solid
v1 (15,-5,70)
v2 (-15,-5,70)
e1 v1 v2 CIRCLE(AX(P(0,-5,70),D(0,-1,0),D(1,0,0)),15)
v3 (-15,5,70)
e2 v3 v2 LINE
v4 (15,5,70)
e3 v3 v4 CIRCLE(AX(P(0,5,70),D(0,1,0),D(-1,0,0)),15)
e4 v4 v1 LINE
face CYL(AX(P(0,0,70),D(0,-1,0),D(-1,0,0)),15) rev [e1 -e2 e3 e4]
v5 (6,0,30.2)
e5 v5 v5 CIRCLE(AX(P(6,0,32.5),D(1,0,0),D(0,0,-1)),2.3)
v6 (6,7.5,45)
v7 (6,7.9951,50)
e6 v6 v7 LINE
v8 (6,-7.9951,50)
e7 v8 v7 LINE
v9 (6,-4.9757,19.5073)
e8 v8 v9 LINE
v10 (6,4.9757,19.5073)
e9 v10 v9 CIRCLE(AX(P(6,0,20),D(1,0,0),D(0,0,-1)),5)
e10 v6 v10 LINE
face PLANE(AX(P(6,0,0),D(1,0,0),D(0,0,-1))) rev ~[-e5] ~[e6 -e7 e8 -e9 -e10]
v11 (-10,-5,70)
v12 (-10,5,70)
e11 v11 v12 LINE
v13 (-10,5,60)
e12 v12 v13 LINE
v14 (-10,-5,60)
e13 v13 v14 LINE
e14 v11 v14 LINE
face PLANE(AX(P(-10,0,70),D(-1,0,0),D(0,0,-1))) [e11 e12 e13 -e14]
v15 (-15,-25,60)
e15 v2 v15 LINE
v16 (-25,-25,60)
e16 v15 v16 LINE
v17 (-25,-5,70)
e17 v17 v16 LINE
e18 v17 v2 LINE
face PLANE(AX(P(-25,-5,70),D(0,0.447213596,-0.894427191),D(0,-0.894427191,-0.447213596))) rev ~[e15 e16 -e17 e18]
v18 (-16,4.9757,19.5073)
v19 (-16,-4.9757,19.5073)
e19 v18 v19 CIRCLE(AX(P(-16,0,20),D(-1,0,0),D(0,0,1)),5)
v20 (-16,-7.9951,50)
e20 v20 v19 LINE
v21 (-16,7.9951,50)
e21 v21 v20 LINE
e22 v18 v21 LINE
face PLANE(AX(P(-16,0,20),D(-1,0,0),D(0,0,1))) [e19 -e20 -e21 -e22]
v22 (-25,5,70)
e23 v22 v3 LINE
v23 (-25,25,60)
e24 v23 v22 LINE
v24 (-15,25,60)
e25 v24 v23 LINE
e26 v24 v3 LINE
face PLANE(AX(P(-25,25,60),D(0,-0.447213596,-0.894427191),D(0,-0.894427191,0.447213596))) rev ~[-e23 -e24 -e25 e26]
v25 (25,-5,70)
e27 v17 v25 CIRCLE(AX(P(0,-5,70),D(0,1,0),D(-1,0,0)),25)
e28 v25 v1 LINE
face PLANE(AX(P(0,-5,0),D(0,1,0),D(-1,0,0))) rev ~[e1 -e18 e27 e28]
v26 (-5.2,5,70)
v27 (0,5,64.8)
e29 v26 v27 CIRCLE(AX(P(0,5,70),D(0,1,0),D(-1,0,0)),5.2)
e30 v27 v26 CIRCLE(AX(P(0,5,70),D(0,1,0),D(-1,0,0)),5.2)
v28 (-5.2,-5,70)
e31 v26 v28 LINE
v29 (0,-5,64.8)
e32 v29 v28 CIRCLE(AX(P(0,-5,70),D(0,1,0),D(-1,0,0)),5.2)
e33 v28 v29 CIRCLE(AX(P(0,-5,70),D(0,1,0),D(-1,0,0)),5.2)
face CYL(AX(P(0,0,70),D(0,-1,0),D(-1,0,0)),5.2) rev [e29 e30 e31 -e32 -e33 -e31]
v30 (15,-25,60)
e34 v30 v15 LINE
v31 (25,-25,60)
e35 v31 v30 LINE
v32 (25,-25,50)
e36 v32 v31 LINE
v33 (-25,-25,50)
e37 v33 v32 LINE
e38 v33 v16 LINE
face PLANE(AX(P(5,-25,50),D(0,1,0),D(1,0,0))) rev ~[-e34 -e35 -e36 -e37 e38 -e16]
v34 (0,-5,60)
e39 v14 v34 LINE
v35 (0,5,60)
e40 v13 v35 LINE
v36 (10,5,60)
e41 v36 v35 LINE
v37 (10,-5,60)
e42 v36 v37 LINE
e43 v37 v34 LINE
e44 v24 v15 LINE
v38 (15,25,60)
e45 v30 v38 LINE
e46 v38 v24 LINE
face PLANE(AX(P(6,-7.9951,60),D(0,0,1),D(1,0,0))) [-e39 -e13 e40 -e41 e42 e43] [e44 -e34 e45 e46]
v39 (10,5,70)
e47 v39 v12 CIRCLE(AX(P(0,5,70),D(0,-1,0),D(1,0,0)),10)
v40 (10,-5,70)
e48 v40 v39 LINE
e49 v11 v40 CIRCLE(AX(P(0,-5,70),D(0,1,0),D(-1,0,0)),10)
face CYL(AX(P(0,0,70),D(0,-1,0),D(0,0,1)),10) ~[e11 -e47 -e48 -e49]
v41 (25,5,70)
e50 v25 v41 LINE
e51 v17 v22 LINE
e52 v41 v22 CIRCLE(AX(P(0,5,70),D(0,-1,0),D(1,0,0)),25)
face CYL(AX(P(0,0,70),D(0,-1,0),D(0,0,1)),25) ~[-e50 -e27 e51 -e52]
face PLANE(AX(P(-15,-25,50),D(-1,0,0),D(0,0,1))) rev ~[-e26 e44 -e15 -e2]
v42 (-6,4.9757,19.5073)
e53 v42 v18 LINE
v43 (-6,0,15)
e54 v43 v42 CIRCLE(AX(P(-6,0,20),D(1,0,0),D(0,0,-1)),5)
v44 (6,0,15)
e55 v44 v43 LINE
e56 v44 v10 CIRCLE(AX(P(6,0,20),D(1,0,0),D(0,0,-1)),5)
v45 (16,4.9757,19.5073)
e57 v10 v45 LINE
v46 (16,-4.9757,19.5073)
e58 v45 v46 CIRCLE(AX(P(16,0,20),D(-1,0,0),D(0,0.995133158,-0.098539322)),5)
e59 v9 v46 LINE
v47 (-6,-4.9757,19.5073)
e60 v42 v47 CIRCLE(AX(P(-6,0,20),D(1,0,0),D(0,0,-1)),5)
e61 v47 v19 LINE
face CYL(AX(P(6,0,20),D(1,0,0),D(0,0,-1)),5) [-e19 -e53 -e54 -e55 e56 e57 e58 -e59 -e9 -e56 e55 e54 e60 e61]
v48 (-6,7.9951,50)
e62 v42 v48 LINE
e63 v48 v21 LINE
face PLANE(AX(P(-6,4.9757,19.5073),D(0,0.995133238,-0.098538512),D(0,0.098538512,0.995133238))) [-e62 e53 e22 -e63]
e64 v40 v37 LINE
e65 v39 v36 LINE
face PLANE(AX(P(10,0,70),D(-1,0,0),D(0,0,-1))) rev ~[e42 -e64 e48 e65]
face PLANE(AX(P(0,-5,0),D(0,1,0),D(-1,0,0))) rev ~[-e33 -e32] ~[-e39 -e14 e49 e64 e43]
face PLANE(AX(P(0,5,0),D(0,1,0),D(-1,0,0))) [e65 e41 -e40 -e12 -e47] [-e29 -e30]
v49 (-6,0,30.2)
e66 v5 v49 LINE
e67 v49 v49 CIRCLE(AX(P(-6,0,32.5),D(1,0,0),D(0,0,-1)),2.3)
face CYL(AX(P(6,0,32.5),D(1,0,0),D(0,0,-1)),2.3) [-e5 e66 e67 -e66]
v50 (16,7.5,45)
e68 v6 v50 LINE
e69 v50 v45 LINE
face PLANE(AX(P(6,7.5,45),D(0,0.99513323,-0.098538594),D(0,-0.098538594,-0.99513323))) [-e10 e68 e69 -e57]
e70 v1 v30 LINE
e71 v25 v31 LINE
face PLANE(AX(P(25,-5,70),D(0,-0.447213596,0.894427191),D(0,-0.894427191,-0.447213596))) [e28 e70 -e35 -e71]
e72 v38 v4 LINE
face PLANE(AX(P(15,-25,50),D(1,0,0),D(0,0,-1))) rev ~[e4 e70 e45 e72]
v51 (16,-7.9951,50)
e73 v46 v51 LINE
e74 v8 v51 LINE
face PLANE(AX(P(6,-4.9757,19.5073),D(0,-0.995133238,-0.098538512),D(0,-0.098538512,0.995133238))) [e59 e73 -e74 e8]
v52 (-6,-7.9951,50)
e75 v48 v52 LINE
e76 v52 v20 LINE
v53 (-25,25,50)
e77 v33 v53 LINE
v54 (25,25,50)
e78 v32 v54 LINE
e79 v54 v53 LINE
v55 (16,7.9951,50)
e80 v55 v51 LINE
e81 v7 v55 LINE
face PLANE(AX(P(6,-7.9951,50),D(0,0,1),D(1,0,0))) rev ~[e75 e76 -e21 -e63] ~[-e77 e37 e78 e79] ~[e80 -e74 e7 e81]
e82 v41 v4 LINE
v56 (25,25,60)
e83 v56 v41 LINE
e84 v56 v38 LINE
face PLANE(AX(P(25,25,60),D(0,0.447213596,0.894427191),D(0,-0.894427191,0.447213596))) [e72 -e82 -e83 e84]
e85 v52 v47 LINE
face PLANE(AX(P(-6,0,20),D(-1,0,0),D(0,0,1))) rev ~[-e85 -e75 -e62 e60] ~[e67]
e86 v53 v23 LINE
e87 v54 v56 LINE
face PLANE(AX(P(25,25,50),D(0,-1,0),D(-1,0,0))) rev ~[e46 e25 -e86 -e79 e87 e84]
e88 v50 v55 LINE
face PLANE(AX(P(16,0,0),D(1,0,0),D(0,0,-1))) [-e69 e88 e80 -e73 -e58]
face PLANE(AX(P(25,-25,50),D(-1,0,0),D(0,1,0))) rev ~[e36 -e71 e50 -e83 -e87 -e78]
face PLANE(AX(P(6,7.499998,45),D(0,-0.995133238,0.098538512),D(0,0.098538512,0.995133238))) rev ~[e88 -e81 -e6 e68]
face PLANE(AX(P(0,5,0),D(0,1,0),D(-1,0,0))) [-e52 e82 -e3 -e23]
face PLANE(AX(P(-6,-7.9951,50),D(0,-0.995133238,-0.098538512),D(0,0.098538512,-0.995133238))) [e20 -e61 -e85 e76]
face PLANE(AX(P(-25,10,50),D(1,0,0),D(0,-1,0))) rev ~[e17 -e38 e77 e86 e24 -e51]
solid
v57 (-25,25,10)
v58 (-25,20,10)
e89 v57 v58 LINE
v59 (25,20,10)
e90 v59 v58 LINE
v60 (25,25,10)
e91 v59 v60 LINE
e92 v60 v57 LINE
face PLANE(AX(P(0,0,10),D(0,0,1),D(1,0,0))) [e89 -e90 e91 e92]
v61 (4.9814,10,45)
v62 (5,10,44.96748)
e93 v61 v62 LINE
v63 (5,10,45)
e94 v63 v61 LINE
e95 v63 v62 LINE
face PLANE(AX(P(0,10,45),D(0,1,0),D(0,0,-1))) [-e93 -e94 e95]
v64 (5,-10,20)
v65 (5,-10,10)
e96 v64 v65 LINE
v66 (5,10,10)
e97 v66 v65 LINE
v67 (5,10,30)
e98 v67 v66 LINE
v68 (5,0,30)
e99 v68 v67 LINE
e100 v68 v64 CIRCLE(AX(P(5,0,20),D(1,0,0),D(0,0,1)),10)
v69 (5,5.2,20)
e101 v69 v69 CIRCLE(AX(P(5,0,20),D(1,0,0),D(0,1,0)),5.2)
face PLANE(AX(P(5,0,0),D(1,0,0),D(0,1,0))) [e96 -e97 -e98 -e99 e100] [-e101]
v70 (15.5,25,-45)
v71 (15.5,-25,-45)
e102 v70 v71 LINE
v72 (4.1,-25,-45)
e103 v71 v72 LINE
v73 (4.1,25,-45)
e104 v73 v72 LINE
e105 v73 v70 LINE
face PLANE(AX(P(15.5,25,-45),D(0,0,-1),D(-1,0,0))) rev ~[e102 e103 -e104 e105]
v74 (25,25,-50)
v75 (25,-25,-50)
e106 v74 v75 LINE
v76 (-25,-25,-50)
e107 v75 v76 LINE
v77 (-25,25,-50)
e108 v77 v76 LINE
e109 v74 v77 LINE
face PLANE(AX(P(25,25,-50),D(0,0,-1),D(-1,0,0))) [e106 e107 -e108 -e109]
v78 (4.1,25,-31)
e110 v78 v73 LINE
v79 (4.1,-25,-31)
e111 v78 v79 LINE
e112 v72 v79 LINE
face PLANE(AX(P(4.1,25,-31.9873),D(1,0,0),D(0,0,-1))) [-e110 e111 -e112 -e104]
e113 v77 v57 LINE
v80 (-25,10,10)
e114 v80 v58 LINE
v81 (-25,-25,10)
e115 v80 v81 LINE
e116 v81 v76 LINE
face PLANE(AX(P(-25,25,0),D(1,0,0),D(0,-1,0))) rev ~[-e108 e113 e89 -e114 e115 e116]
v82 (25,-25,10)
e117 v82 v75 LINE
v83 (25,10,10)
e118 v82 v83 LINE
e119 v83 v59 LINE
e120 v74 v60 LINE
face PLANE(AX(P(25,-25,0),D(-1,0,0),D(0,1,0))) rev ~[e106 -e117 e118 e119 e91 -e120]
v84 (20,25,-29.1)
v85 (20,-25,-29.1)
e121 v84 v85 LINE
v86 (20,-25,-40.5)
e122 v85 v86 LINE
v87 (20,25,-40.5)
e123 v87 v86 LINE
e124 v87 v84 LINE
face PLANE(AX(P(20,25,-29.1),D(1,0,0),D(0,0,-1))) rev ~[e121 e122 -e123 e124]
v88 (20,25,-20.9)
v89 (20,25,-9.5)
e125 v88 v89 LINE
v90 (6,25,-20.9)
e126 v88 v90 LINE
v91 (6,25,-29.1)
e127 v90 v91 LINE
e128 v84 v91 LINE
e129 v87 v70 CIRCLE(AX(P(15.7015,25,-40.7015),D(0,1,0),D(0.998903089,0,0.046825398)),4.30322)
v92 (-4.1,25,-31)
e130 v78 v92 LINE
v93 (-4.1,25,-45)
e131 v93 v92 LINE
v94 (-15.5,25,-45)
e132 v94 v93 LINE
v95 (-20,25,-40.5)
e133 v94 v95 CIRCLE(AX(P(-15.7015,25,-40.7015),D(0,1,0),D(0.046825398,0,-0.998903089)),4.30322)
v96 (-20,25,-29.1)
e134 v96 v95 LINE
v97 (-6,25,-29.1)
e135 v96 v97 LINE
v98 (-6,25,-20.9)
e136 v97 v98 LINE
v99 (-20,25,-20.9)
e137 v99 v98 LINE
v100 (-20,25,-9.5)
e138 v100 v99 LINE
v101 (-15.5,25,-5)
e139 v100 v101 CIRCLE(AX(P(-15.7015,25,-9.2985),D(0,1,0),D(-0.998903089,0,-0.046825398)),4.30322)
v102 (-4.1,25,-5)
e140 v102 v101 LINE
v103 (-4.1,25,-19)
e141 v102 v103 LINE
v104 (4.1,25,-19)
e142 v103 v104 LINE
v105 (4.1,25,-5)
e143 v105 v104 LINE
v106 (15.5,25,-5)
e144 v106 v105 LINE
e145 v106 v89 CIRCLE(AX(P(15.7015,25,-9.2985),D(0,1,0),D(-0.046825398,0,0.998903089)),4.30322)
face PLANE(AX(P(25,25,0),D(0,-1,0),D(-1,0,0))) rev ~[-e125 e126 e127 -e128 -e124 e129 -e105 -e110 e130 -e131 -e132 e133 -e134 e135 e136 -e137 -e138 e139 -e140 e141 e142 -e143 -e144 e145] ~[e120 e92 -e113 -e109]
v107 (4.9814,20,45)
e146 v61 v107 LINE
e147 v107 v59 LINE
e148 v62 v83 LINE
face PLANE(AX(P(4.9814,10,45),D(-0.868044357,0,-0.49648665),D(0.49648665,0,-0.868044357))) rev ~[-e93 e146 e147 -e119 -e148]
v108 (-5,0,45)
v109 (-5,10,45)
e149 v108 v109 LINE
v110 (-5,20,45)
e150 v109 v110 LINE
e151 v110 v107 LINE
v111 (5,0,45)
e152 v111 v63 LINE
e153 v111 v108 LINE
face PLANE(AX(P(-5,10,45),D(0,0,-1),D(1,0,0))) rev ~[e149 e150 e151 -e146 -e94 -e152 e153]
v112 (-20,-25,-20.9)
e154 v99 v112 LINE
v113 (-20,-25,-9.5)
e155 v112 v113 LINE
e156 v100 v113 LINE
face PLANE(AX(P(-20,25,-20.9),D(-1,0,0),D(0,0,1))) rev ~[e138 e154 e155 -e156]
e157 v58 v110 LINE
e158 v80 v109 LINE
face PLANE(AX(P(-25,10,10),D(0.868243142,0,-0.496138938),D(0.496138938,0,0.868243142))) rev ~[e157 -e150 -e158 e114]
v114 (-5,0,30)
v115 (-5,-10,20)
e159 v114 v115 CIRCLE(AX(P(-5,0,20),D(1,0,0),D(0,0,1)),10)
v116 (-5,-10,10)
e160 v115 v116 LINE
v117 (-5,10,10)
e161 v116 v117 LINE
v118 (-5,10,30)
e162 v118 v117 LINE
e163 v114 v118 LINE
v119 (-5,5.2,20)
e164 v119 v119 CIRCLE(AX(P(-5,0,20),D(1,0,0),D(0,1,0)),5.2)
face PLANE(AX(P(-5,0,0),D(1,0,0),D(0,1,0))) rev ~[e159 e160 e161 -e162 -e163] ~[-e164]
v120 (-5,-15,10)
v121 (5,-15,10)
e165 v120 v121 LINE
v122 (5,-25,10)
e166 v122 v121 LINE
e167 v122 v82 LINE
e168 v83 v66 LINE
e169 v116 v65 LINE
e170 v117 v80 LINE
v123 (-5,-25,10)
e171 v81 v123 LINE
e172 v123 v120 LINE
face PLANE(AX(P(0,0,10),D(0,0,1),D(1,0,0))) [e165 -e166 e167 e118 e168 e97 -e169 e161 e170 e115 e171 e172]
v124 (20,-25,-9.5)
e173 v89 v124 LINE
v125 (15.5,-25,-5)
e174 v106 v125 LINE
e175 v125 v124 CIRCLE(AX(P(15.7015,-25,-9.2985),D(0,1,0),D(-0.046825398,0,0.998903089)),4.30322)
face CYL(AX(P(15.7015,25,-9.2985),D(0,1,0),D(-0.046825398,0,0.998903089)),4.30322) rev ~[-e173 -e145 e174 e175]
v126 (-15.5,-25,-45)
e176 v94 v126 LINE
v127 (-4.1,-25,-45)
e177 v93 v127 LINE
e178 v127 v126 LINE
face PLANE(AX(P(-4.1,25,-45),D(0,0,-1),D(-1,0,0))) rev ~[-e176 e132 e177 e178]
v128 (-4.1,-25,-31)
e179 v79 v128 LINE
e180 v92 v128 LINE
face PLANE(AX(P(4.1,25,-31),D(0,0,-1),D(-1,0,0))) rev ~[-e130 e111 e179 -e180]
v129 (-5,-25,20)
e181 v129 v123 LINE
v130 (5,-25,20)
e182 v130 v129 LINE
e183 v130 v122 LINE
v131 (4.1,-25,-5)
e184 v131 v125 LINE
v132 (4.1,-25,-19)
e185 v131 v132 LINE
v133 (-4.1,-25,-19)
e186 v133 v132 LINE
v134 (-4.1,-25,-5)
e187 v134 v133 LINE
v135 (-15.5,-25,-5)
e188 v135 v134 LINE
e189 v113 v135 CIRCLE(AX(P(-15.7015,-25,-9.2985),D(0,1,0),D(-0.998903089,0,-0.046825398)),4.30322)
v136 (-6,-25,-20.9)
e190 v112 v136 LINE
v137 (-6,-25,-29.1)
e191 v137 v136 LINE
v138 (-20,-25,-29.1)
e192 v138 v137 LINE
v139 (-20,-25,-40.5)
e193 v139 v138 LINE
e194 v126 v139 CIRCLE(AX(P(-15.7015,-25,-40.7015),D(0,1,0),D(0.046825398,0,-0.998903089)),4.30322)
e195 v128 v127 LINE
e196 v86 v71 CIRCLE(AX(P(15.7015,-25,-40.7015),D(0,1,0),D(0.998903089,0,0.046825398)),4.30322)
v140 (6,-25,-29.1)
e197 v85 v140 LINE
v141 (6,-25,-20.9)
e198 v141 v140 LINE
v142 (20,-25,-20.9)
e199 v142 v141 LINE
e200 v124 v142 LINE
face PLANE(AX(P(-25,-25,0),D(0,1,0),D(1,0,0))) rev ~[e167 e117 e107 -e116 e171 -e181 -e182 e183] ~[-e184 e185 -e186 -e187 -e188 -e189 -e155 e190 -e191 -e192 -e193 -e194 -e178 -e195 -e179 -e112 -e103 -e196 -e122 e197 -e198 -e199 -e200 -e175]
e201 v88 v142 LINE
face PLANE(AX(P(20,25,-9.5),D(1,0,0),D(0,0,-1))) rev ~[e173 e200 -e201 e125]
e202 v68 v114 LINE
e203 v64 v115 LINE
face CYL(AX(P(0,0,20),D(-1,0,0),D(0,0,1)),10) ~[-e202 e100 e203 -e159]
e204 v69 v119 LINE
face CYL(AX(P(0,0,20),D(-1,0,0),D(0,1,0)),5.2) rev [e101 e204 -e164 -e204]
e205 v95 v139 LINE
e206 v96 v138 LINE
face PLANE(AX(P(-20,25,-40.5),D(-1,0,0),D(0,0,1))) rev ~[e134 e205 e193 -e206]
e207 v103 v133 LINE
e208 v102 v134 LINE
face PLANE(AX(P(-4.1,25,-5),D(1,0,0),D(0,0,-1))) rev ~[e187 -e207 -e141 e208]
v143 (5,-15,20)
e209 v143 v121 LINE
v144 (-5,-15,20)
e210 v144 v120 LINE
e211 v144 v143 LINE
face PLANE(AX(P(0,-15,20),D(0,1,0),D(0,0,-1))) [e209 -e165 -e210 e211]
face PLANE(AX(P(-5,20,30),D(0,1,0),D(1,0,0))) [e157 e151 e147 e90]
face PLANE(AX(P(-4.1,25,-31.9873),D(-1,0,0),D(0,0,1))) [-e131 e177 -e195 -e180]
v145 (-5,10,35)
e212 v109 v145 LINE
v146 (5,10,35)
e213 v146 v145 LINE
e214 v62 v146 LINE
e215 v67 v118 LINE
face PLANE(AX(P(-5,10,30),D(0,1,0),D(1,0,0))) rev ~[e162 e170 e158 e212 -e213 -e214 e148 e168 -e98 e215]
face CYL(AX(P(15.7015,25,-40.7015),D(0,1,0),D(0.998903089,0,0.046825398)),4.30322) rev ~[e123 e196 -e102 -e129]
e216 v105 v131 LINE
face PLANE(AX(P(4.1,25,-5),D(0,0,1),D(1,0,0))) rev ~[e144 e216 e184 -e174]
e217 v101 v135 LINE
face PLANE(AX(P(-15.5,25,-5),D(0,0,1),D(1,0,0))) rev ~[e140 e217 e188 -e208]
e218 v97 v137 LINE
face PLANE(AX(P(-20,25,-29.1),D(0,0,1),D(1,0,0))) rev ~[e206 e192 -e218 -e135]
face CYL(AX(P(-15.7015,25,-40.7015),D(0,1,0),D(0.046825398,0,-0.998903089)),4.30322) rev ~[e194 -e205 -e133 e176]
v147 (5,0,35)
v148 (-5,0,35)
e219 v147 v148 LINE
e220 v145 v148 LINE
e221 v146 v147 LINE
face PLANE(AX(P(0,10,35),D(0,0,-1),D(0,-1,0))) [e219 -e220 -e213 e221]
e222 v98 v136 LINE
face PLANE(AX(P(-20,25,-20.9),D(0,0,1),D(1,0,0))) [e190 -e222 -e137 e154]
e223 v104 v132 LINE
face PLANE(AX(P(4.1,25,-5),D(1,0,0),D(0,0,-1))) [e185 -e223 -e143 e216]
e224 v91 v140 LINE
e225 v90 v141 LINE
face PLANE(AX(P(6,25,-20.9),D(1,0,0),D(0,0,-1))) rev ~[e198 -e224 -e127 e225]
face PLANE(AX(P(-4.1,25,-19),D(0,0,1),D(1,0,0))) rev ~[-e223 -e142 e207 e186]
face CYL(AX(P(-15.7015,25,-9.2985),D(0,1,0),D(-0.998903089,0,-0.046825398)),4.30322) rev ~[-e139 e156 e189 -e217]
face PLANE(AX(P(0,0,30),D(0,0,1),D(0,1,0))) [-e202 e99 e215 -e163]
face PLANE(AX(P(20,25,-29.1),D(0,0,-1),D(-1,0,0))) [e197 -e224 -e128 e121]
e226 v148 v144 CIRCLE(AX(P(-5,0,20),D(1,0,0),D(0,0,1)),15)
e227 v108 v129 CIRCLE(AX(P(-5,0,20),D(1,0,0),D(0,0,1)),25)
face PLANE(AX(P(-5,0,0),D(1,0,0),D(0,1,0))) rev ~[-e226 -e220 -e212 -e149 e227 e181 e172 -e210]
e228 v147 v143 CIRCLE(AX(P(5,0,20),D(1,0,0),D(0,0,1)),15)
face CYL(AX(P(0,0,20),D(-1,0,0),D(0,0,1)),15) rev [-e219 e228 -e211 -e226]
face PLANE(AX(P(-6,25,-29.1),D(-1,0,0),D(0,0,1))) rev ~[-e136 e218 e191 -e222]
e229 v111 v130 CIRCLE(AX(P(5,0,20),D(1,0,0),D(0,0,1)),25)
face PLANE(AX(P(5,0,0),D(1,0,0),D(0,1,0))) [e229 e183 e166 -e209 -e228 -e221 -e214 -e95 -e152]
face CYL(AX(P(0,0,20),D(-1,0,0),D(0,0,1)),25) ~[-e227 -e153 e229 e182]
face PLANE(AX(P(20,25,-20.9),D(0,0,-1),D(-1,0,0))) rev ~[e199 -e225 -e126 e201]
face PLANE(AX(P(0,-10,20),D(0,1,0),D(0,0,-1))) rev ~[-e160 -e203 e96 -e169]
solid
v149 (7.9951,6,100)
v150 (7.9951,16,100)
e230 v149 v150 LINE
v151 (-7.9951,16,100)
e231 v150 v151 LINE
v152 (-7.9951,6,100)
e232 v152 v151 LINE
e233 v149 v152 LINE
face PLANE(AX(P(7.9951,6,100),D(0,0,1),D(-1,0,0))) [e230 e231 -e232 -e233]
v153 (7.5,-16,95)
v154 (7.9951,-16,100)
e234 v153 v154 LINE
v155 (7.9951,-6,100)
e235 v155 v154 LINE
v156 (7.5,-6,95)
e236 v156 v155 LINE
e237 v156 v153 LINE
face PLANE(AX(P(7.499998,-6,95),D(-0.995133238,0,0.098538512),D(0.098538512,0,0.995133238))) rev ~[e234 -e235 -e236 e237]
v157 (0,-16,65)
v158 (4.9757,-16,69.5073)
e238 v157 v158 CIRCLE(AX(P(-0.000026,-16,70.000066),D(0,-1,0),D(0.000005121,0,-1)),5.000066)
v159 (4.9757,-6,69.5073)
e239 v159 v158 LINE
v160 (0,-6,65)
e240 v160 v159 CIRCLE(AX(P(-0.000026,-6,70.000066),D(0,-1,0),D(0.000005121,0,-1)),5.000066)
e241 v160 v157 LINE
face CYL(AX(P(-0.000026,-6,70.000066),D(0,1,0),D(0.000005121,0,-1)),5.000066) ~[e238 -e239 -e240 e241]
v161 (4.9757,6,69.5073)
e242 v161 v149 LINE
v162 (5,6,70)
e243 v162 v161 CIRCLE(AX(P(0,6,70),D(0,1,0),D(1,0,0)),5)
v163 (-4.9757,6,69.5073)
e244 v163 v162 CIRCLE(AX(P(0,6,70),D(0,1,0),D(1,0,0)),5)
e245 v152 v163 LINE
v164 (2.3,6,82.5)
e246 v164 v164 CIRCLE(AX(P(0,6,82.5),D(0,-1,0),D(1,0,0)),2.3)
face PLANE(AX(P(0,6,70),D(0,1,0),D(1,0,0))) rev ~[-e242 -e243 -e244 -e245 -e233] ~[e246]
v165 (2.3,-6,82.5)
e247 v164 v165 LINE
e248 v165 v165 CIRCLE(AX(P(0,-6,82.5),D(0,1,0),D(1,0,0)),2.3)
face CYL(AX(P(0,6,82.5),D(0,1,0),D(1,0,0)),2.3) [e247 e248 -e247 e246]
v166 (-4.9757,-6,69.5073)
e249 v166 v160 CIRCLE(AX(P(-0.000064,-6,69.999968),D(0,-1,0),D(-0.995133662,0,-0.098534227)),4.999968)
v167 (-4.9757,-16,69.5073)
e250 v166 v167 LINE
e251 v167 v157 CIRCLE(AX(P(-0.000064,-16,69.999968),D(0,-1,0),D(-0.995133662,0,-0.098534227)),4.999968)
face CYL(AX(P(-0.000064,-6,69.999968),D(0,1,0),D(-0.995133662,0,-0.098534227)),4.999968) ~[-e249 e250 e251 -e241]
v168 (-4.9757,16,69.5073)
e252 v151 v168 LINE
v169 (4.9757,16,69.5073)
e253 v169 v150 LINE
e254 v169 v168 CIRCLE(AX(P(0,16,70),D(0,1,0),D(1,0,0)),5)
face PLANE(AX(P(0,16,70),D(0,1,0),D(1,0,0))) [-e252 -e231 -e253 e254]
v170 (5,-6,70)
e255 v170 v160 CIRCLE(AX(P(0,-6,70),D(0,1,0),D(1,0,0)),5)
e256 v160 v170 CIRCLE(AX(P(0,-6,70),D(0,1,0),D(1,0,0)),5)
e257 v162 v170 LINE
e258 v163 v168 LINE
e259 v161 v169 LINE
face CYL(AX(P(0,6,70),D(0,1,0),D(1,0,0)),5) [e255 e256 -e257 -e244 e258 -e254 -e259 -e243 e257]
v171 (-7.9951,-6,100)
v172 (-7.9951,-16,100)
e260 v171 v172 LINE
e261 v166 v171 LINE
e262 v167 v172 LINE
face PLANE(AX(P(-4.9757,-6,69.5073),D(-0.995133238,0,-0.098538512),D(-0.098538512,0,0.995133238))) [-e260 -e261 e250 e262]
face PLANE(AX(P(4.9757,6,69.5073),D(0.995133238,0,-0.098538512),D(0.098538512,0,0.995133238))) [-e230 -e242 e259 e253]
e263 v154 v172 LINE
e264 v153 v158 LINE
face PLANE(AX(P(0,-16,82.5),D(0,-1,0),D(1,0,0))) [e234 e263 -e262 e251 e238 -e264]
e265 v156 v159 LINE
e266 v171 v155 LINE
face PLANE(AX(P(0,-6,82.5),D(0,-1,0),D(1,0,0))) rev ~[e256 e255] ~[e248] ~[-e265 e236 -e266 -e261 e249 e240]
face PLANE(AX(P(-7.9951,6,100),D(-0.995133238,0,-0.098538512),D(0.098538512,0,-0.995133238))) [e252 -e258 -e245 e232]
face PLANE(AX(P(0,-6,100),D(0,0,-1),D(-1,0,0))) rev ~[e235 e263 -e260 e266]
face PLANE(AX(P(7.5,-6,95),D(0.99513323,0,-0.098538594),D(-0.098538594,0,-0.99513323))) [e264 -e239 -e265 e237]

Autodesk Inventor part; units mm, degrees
sketch "Boceto1" plane through (0, 0, 0) normal (0, 0, 1) x (1, 0, 0)
  line L0 (-25, -25) -> (25, -25)
  line L1 (25, -25) -> (25, 25)
  line L2 (25, 25) -> (-25, 25)
  line L3 (-25, 25) -> (-25, -25)
  line L4 (-25, -25) -> (25, 25) construction
  line L5 (25, -25) -> (-25, 25) construction
  point P0 (0, 0)
  dimension "d0" = 50
  dimension "d1" = 50
extrude "Extrusión1" add sketch "Boceto1" along normal blind 10
sketch "Boceto2" plane through (0, 0, 0) normal (1, 0, 0) x (0, 1, 0)
  line L0 (-25, 10) -> (25, 10) projected
  line L1 (-10, 20) -> (-10, 10)
  arc A0 (0, 30) -> (-10, 20) centre (0, 20) ccw
  arc A1 (0, 35) -> (-15, 20) centre (0, 20) ccw
  line L2 (-15, 20) -> (-15, 10)
  arc A2 (0, 45) -> (-25, 20) centre (0, 20) ccw
  line L3 (-25, 20) -> (-25, 10)
  line L4 (-25, 10) -> (0, 10)
  circle A3 centre (0, 20) radius 5.2
  line L5 (0, 30) -> (10, 30)
  line L6 (10, 30) -> (10, 31.1803)
  line L7 (10, 35) -> (0, 35)
  line L8 (0, 45) -> (10, 45)
  line L9 (10, 45) -> (10, 35)
  line L10 (10, 30) -> (10, 10)
  line L11 (10, 10) -> (0, 10)
  point P0 (0, 0)
  dimension "d17" = 20
  dimension "d18" = 25
  dimension "d20" = 10
  dimension "d21" = 10
  dimension "d26" = 10.4
  dimension "d27" = 10
  dimension "d28" = 35
extrude "Extrusión2" add sketch "Boceto2" along normal mid plane 10
sketch "Boceto5" plane through (-5, 10, 30) normal (0, 1, 0) x (1, 0, 0)
  line L0 (30, 20) -> (-20, 20) projected
  line L1 (0, 10) -> (0, -15) projected
  line L2 (-20, 20) -> (0, -15)
  line L3 (0, -15) -> (9.9814, -15)
  line L4 (9.9814, -15) -> (30, 20)
  line L5 (30, 20) -> (-20, 20)
  point P0 (5, 30)
extrude "Extrusión4" add sketch "Boceto5" along normal blind 10
ref_plane "Plano de trabajo2" through (6, 0, 0) normal (1, 0, 0) x (0, 0, -1)
sketch "Boceto6" plane through (6, 0, 0) normal (1, 0, 0) x (0, 0, -1)
  circle A0 centre (-20, 0) radius 5.2 projected
  circle A1 centre (-20, 0) radius 5
  arc A2 (-35, 0) -> (-20, -15) centre (-20, 0) ccw projected
  arc A3 (-30, 0) -> (-20, -10) centre (-20, 0) ccw projected
  line L0 (-35, 0) -> (-30, 0) construction
  circle A4 centre (-32.5, 0) radius 2.3
  point P0 (0, 0)
  dimension "d32" = 10
  dimension "d33" = 4.6
extrude "Extrusión5" add sketch "Boceto6" against normal blind 12 contours A1 | A4
sketch "Boceto7" plane through (6, 0, 0) normal (1, 0, 0) x (0, 0, -1)
  line L0 (0, 0) -> (-64.0101, 0) construction
  circle A0 centre (-20, 0) radius 5 projected
  arc A1 (-15, 0) -> (-19.5073, 4.9757) centre (-20, 0) ccw
  line L1 (-45, 10) -> (-45, 0) projected
  line L2 (-45, 10) -> (-45, 7.5)
  line L3 (-45, 7.5) -> (-19.5073, 4.9757)
  arc A2 (-45, 0) -> (-20, -25) centre (-20, 0) ccw projected
  line L4 (-45, 0) -> (-45, 7.5)
  line L5 (-45, 0) -> (-50, 0)
  line L6 (-50, 0) -> (-50, 10)
  line L7 (-19.5073, 4.9757) -> (-50, 7.9951)
  arc A3 (-19.5073, -4.9757) -> (-15, 0) centre (-20, 0) ccw
  line L8 (-50, 0) -> (-50, -10)
  line L9 (-19.5073, -4.9757) -> (-50, -7.9951)
  dimension "d36" = 10
  dimension "d37" = 2.5
  dimension "d38" = 5
extrude "Extrusión6" add sketch "Boceto7" along normal blind 10
sketch "Boceto8" plane through (-6, 0, 20) normal (-1, 0, 0) x (0, 0, 1)
  circle A0 centre (12.5, 0) radius 2.3 projected
  arc A1 (-0.4927, -4.9757) -> (-0.4927, 4.9757) centre (0, 0) ccw projected
  line L0 (30, -7.9951) -> (-0.4927, -4.9757) projected
  line L1 (30, 7.9951) -> (30, -7.9951) projected
  line L2 (-0.4927, 4.9757) -> (30, 7.9951) projected
  circle A2 centre (0, 0) radius 5 projected
  point P0 (-20, 0)
extrude "Extrusión7" add sketch "Boceto8" along normal blind 10 contours A0 | A2 A1 | A1 L2 L1 L0
sketch "Boceto9" plane through (6, -7.9951, 50) normal (0, 0, 1) x (1, 0, 0)
  line L0 (19, -17.0049) -> (19, 17.9951) projected
  line L1 (-31, -17.0049) -> (-11, -17.0049) projected
  line L2 (-31, 17.9951) -> (-31, -17.0049) projected
  line L3 (-11, -17.0049) -> (-1, -17.0049) projected
  line L4 (-1, -17.0049) -> (19, -17.0049) projected
  line L5 (-31, 27.9951) -> (-31, 17.9951) projected
  line L6 (19, 32.9951) -> (-31, 32.9951) projected
  line L7 (-31, 32.9951) -> (-31, 27.9951) projected
  line L8 (19, 27.9951) -> (19, 32.9951) projected
  line L9 (19, 17.9951) -> (19, 27.9951) projected
  point P0 (-6, 7.9951)
extrude "Extrusión8" add sketch "Boceto9" along normal blind 10
sketch "Boceto10" plane through (0, 0, 0) normal (0, 1, 0) x (-1, 0, 0)
  arc A0 (10, 70) -> (0, 80) centre (0, 70) ccw
  arc A1 (15, 70) -> (0, 85) centre (0, 70) ccw
  arc A2 (25, 70) -> (0, 95) centre (0, 70) ccw
  line L0 (10, 70) -> (10, 60)
  line L1 (15, 60) -> (15, 70)
  line L2 (25, 70) -> (25, 60)
  line L3 (25, 60) -> (15, 60)
  line L4 (10, 60) -> (0, 60)
  line L5 (0, 70) -> (0, 50)
  line L6 (0, 50) -> (0, 99.3046) construction
  line L7 (-10, 70) -> (-10, 60)
  line L8 (-10, 60) -> (0, 60)
  line L9 (-15, 60) -> (-15, 70)
  arc A3 (0, 80) -> (-10, 70) centre (0, 70) ccw
  line L10 (-25, 70) -> (-25, 60)
  line L11 (-25, 60) -> (-15, 60)
  arc A4 (0, 85) -> (-15, 70) centre (0, 70) ccw
  arc A5 (0, 95) -> (-25, 70) centre (0, 70) ccw
  line L12 (25, 60) -> (-25, 60) projected
  circle A6 centre (0, 70) radius 5.2
  point P0 (0, 0)
  point P1 (0, 72.5)
  point P2 (0, 67.5)
  point P3 (0, 60)
  dimension "d144" = 10
  dimension "d145" = 25
  dimension "d146" = 15
  dimension "d147" = 10
  dimension "d148" = 10.4
extrude "Extrusión9" add sketch "Boceto10" along normal mid plane 10 contours L0 L4 L8 L7 A3 A0 | L1 A1 A4 L9 L11 L10 A5 A2 L2 L3
ref_plane "Plano de trabajo3" through (0, 6, 0) normal (0, 1, 0) x (1, 0, 0)
sketch "Boceto11" plane through (0, 6, 0) normal (0, 1, 0) x (1, 0, 0)
  circle A0 centre (0, -70) radius 5
  arc A1 (-10, -70) -> (10, -70) centre (0, -70) ccw projected
  line L0 (0, -80) -> (0, -85)
  arc A2 (-15, -70) -> (15, -70) centre (0, -70) ccw projected
  circle A3 centre (0, -82.5) radius 2.3
  point P0 (0, 0)
  dimension "d57" = 10
  dimension "d58" = 4.6
extrude "Extrusión10" add sketch "Boceto11" against normal blind 12
sketch "Boceto13" plane through (-25, -25, 50) normal (-1, 0, 0) x (0, 0, 1)
  line L0 (0, 50) -> (0, 0) projected
  line L1 (0, 0) -> (10, 0) projected
  line L2 (10, 20) -> (10, 0) projected
  line L3 (20, 20) -> (10, 20) projected
  line L4 (20, 20) -> (20, 30) projected
  line L5 (10, 30) -> (20, 30) projected
  line L6 (10, 50) -> (10, 30) projected
  line L7 (0, 50) -> (10, 50) projected
  line L8 (20, 20) -> (10, 0)
  line L9 (10, 50) -> (20, 30)
  point P0 (-50, 25)
  point P1 (20, 20)
  point P2 (10, 20)
extrude "Extrusión11" add sketch "Boceto13" against normal blind 10 contours L9 L5 L6 | L2 L3 L8
sketch "Boceto14" plane through (25, -25, 50) normal (1, 0, 0) x (0, 0, -1)
  line L0 (0, 0) -> (0, 50) projected
  line L1 (0, 50) -> (-10, 50) projected
  line L2 (-10, 30) -> (-10, 50) projected
  line L3 (-20, 30) -> (-10, 30) projected
  line L4 (-20, 20) -> (-20, 30) projected
  line L5 (-10, 20) -> (-20, 20) projected
  line L6 (-10, 0) -> (-10, 20) projected
  line L7 (0, 0) -> (-10, 0) projected
  line L8 (-10, 50) -> (-20, 30) projected
  line L9 (-20, 20) -> (-10, 0) projected
  point P0 (50, 25)
extrude "Extrusión12" add sketch "Boceto14" against normal blind 10 contours L9 L5 L6 | L2 L3 L8
sketch "Boceto15" plane through (-25, 25, 0) normal (0, 1, 0) x (1, 0, 0)
  line L0 (50, 0) -> (0, 0) projected
  line L1 (0, 0) -> (50, 0)
  line L2 (50, 0) -> (50, 50)
  line L3 (50, 50) -> (0, 50)
  line L4 (0, 50) -> (0, 0)
  line L5 (50, 0) -> (0, 50) construction
  line L6 (9.5, 5) -> (40.5, 5)
  line L7 (45, 9.5) -> (45, 40.5)
  line L8 (40.5, 45) -> (9.5, 45)
  line L9 (5, 40.5) -> (5, 9.5)
  line L10 (5, 5) -> (45, 45) construction
  line L11 (45, 5) -> (5, 45) construction
  arc A0 (5, 9.5) -> (9.5, 5) centre (9.2985, 9.2985) ccw
  line L12 (50, 50) -> (12.682, 12.682) construction
  line L13 (9.2985, 9.2985) -> (0, 0) construction
  line L14 (-9.6582, 130.7458) -> (57.4478, 130.7458) construction
  line L15 (57.4478, 130.7458) -> (57.4478, 74.9632) construction
  line L16 (57.4478, 74.9632) -> (-9.6582, 74.9632) construction
  line L17 (-9.6582, 74.9632) -> (-9.6582, 130.7458) construction
  circle A1 centre (25, 25) radius 3.4
  line L18 (20.4142, 19) -> (29.5858, 19)
  line L19 (31, 20.4142) -> (31, 29.5858)
  line L20 (29.5858, 31) -> (20.4142, 31)
  line L21 (19, 29.5858) -> (19, 20.4142)
  line L22 (19.6, 19.6) -> (30.4, 30.4) construction
  line L23 (30.4, 19.6) -> (19.6, 30.4) construction
  line L24 (20.4142, 31) -> (15.0142, 36.4)
  line L25 (35.25, 48.8) -> (14.75, 41.2) construction
  line L26 (14.75, 48.8) -> (35.25, 41.2) construction
  line L27 (15.0142, 45) -> (15.0142, 36.4)
  line L28 (13.7142, 37.7) -> (13.7142, 45)
  line L29 (5, 34.9858) -> (13.6, 34.9858)
  line L30 (12.3, 36.2858) -> (5, 36.2858)
  line L31 (19, 29.5858) -> (13.6, 34.9858)
  arc A2 (12.3, 36.2858) -> (13.7142, 37.7) centre (12.3, 37.7) ccw
  arc A3 (45, 40.5) -> (40.5, 45) centre (40.7015, 40.7015) ccw
  line L32 (25, 75.7962) -> (25, -2.7787) construction
  arc A4 (40.5, 5) -> (45, 9.5) centre (40.7015, 9.2985) ccw
  arc A5 (9.5, 45) -> (5, 40.5) centre (9.2985, 40.7015) ccw
  line L33 (31, 20.4142) -> (36.4, 15.0142)
  line L34 (45, 15.0142) -> (36.4, 15.0142)
  line L35 (37.7, 13.7142) -> (45, 13.7142)
  line L36 (34.9858, 5) -> (34.9858, 13.6)
  line L37 (36.2858, 12.3) -> (36.2858, 5)
  line L38 (29.5858, 19) -> (34.9858, 13.6)
  arc A6 (37.7, 13.7142) -> (36.2858, 12.3) centre (37.7, 12.3) ccw
  line L39 (29.5858, 31) -> (34.9858, 36.4)
  line L40 (34.9858, 45) -> (34.9858, 36.4)
  line L41 (36.2858, 37.7) -> (36.2858, 45)
  line L42 (45, 34.9858) -> (36.4, 34.9858)
  line L43 (37.7, 36.2858) -> (45, 36.2858)
  line L44 (31, 29.5858) -> (36.4, 34.9858)
  arc A7 (36.2858, 37.7) -> (37.7, 36.2858) centre (37.7, 37.7) ccw
  line L45 (13.7142, 12.3) -> (13.7142, 5)
  line L46 (15.0142, 5) -> (15.0142, 13.6)
  line L47 (20.4142, 19) -> (15.0142, 13.6)
  line L48 (19, 20.4142) -> (13.6, 15.0142)
  line L49 (5, 15.0142) -> (13.6, 15.0142)
  arc A8 (13.7142, 12.3) -> (12.3, 13.7142) centre (12.3, 12.3) ccw
  line L50 (12.3, 13.7142) -> (5, 13.7142)
  line L51 (36.2858, 37.7) -> (36.2858, 43.2358)
  line L52 (36.2858, 43.2358) -> (40.7015, 43.2358)
  line L53 (43.2358, 40.7015) -> (43.2358, 36.2858)
  line L54 (43.2358, 36.2858) -> (37.7, 36.2858)
  line L55 (6.7642, 13.7142) -> (6.7642, 6.7642)
  line L56 (6.7642, 6.7642) -> (13.7142, 6.7642)
  line L57 (13.7142, 43.2358) -> (6.7642, 43.2358)
  line L58 (6.7642, 43.2358) -> (6.7642, 36.2858)
  line L59 (43.2358, 13.7142) -> (43.2358, 6.7642)
  line L60 (43.2358, 6.7642) -> (36.2858, 6.7642)
  arc A9 (43.2358, 40.7015) -> (40.7015, 43.2358) centre (40.7015, 40.7015) ccw
  line L61 (29.1, 31.9873) -> (29.1, 45)
  line L62 (29.1, 45) -> (20.9, 45)
  line L63 (20.9, 45) -> (20.9, 31.9873)
  line L64 (20.9, 45) -> (20.9, 31)
  line L65 (29.1, 45) -> (29.1, 31)
  line L66 (5, 29.1) -> (19, 29.1)
  line L67 (5, 20.9) -> (19, 20.9)
  line L68 (45, 20.9) -> (31, 20.9)
  line L69 (45, 29.1) -> (31, 29.1)
  line L70 (29.1, 5) -> (29.1, 19)
  line L71 (20.9, 5) -> (20.9, 19)
  point P0 (25, 0)
  point P1 (25, 45)
  point P2 (43.2358, 43.2358)
  point P3 (25, 38.4937)
  point P4 (31.9873, 20.9)
  point P5 (20.9, 19)
  point P6 (20.9, 5)
  point P7 (19, 20.9)
  point P8 (19, 29.1)
  point P9 (31, 29.1)
  point P10 (45, 20.9)
  point P11 (29.1, 19)
  dimension "d66" = 50
  dimension "d67" = 50
  dimension "d68" = 40
  dimension "d69" = 40
  dimension "d89" = 6.8
  dimension "d93" = 1
  dimension "d94" = 20.5
  dimension "d96" = 1.3
  dimension "d106" = 6.95
  dimension "d107" = 6.95
  dimension "d108" = 14
  dimension "d109" = 14
  dimension "d110" = 40
  dimension "d115" = 8.2
extrude "Extrusión15" add sketch "Boceto15" against normal up to surface (50 mm away) contours L0 L4 L3 L2 | L71 L18 L70 L6 | L9 L66 L21 L67 | L68 L19 L69 L7 | L8 L61 L65 L20 L64 L63
sketch "Boceto16" plane through (0, -6, 82.5) normal (0, -1, 0) x (1, 0, 0)
  arc A0 (0, -17.5) -> (4.9757, -12.9927) centre (0, -12.5) ccw
  line L0 (7.5, 12.5) -> (4.9757, -12.9927)
  line L1 (0, 17.5) -> (7.9951, 17.5)
  line L2 (4.9757, -12.9927) -> (7.9951, 17.5)
  line L3 (0, 17.5) -> (-7.9951, 17.5)
  line L4 (-4.9757, -12.9927) -> (-7.9951, 17.5)
  arc A1 (-4.9757, -12.9927) -> (0, -17.5) centre (0, -12.5) ccw
  circle A2 centre (0, 0) radius 2.3 projected
  line L5 (27.3818, -12.5) -> (-15.7186, -12.5) construction
  line L6 (0, -25.6017) -> (0, 0) construction
  point P0 (0, -82.5)
  point P1 (0, -12.5)
  point P2 (0, -12.5)
  dimension "d70" = 10
extrude "Extrusión13" add sketch "Boceto16" along normal blind 10 contours A1 L4 L3 L1 L2 L0 A0 | A2
sketch "Boceto17" plane through (0, 6, 70) normal (0, 1, 0) x (1, 0, 0)
  line L0 (7.9951, -30) -> (-7.9951, -30) projected
  line L1 (4.9757, 0.4927) -> (7.9951, -30) projected
  line L2 (-7.9951, -30) -> (-4.9757, 0.4927) projected
  arc A0 (-4.9757, 0.4927) -> (4.9757, 0.4927) centre (0, 0) ccw projected
  circle A1 centre (0, 0) radius 5 projected
  point P0 (0, 70)
extrude "Extrusión14" add sketch "Boceto17" along normal blind 10
fillet "Empalme15" [suppressed]
fillet "Empalme16" [suppressed]
fillet "Empalme17" [suppressed]
fillet "Empalme18" [suppressed]
fillet "Empalme19" [suppressed]
fillet "Empalme21" [suppressed]
fillet "Empalme22" [suppressed]
fillet "Empalme23" [suppressed]
properties part number "SoporteCamara_3DPrint"
